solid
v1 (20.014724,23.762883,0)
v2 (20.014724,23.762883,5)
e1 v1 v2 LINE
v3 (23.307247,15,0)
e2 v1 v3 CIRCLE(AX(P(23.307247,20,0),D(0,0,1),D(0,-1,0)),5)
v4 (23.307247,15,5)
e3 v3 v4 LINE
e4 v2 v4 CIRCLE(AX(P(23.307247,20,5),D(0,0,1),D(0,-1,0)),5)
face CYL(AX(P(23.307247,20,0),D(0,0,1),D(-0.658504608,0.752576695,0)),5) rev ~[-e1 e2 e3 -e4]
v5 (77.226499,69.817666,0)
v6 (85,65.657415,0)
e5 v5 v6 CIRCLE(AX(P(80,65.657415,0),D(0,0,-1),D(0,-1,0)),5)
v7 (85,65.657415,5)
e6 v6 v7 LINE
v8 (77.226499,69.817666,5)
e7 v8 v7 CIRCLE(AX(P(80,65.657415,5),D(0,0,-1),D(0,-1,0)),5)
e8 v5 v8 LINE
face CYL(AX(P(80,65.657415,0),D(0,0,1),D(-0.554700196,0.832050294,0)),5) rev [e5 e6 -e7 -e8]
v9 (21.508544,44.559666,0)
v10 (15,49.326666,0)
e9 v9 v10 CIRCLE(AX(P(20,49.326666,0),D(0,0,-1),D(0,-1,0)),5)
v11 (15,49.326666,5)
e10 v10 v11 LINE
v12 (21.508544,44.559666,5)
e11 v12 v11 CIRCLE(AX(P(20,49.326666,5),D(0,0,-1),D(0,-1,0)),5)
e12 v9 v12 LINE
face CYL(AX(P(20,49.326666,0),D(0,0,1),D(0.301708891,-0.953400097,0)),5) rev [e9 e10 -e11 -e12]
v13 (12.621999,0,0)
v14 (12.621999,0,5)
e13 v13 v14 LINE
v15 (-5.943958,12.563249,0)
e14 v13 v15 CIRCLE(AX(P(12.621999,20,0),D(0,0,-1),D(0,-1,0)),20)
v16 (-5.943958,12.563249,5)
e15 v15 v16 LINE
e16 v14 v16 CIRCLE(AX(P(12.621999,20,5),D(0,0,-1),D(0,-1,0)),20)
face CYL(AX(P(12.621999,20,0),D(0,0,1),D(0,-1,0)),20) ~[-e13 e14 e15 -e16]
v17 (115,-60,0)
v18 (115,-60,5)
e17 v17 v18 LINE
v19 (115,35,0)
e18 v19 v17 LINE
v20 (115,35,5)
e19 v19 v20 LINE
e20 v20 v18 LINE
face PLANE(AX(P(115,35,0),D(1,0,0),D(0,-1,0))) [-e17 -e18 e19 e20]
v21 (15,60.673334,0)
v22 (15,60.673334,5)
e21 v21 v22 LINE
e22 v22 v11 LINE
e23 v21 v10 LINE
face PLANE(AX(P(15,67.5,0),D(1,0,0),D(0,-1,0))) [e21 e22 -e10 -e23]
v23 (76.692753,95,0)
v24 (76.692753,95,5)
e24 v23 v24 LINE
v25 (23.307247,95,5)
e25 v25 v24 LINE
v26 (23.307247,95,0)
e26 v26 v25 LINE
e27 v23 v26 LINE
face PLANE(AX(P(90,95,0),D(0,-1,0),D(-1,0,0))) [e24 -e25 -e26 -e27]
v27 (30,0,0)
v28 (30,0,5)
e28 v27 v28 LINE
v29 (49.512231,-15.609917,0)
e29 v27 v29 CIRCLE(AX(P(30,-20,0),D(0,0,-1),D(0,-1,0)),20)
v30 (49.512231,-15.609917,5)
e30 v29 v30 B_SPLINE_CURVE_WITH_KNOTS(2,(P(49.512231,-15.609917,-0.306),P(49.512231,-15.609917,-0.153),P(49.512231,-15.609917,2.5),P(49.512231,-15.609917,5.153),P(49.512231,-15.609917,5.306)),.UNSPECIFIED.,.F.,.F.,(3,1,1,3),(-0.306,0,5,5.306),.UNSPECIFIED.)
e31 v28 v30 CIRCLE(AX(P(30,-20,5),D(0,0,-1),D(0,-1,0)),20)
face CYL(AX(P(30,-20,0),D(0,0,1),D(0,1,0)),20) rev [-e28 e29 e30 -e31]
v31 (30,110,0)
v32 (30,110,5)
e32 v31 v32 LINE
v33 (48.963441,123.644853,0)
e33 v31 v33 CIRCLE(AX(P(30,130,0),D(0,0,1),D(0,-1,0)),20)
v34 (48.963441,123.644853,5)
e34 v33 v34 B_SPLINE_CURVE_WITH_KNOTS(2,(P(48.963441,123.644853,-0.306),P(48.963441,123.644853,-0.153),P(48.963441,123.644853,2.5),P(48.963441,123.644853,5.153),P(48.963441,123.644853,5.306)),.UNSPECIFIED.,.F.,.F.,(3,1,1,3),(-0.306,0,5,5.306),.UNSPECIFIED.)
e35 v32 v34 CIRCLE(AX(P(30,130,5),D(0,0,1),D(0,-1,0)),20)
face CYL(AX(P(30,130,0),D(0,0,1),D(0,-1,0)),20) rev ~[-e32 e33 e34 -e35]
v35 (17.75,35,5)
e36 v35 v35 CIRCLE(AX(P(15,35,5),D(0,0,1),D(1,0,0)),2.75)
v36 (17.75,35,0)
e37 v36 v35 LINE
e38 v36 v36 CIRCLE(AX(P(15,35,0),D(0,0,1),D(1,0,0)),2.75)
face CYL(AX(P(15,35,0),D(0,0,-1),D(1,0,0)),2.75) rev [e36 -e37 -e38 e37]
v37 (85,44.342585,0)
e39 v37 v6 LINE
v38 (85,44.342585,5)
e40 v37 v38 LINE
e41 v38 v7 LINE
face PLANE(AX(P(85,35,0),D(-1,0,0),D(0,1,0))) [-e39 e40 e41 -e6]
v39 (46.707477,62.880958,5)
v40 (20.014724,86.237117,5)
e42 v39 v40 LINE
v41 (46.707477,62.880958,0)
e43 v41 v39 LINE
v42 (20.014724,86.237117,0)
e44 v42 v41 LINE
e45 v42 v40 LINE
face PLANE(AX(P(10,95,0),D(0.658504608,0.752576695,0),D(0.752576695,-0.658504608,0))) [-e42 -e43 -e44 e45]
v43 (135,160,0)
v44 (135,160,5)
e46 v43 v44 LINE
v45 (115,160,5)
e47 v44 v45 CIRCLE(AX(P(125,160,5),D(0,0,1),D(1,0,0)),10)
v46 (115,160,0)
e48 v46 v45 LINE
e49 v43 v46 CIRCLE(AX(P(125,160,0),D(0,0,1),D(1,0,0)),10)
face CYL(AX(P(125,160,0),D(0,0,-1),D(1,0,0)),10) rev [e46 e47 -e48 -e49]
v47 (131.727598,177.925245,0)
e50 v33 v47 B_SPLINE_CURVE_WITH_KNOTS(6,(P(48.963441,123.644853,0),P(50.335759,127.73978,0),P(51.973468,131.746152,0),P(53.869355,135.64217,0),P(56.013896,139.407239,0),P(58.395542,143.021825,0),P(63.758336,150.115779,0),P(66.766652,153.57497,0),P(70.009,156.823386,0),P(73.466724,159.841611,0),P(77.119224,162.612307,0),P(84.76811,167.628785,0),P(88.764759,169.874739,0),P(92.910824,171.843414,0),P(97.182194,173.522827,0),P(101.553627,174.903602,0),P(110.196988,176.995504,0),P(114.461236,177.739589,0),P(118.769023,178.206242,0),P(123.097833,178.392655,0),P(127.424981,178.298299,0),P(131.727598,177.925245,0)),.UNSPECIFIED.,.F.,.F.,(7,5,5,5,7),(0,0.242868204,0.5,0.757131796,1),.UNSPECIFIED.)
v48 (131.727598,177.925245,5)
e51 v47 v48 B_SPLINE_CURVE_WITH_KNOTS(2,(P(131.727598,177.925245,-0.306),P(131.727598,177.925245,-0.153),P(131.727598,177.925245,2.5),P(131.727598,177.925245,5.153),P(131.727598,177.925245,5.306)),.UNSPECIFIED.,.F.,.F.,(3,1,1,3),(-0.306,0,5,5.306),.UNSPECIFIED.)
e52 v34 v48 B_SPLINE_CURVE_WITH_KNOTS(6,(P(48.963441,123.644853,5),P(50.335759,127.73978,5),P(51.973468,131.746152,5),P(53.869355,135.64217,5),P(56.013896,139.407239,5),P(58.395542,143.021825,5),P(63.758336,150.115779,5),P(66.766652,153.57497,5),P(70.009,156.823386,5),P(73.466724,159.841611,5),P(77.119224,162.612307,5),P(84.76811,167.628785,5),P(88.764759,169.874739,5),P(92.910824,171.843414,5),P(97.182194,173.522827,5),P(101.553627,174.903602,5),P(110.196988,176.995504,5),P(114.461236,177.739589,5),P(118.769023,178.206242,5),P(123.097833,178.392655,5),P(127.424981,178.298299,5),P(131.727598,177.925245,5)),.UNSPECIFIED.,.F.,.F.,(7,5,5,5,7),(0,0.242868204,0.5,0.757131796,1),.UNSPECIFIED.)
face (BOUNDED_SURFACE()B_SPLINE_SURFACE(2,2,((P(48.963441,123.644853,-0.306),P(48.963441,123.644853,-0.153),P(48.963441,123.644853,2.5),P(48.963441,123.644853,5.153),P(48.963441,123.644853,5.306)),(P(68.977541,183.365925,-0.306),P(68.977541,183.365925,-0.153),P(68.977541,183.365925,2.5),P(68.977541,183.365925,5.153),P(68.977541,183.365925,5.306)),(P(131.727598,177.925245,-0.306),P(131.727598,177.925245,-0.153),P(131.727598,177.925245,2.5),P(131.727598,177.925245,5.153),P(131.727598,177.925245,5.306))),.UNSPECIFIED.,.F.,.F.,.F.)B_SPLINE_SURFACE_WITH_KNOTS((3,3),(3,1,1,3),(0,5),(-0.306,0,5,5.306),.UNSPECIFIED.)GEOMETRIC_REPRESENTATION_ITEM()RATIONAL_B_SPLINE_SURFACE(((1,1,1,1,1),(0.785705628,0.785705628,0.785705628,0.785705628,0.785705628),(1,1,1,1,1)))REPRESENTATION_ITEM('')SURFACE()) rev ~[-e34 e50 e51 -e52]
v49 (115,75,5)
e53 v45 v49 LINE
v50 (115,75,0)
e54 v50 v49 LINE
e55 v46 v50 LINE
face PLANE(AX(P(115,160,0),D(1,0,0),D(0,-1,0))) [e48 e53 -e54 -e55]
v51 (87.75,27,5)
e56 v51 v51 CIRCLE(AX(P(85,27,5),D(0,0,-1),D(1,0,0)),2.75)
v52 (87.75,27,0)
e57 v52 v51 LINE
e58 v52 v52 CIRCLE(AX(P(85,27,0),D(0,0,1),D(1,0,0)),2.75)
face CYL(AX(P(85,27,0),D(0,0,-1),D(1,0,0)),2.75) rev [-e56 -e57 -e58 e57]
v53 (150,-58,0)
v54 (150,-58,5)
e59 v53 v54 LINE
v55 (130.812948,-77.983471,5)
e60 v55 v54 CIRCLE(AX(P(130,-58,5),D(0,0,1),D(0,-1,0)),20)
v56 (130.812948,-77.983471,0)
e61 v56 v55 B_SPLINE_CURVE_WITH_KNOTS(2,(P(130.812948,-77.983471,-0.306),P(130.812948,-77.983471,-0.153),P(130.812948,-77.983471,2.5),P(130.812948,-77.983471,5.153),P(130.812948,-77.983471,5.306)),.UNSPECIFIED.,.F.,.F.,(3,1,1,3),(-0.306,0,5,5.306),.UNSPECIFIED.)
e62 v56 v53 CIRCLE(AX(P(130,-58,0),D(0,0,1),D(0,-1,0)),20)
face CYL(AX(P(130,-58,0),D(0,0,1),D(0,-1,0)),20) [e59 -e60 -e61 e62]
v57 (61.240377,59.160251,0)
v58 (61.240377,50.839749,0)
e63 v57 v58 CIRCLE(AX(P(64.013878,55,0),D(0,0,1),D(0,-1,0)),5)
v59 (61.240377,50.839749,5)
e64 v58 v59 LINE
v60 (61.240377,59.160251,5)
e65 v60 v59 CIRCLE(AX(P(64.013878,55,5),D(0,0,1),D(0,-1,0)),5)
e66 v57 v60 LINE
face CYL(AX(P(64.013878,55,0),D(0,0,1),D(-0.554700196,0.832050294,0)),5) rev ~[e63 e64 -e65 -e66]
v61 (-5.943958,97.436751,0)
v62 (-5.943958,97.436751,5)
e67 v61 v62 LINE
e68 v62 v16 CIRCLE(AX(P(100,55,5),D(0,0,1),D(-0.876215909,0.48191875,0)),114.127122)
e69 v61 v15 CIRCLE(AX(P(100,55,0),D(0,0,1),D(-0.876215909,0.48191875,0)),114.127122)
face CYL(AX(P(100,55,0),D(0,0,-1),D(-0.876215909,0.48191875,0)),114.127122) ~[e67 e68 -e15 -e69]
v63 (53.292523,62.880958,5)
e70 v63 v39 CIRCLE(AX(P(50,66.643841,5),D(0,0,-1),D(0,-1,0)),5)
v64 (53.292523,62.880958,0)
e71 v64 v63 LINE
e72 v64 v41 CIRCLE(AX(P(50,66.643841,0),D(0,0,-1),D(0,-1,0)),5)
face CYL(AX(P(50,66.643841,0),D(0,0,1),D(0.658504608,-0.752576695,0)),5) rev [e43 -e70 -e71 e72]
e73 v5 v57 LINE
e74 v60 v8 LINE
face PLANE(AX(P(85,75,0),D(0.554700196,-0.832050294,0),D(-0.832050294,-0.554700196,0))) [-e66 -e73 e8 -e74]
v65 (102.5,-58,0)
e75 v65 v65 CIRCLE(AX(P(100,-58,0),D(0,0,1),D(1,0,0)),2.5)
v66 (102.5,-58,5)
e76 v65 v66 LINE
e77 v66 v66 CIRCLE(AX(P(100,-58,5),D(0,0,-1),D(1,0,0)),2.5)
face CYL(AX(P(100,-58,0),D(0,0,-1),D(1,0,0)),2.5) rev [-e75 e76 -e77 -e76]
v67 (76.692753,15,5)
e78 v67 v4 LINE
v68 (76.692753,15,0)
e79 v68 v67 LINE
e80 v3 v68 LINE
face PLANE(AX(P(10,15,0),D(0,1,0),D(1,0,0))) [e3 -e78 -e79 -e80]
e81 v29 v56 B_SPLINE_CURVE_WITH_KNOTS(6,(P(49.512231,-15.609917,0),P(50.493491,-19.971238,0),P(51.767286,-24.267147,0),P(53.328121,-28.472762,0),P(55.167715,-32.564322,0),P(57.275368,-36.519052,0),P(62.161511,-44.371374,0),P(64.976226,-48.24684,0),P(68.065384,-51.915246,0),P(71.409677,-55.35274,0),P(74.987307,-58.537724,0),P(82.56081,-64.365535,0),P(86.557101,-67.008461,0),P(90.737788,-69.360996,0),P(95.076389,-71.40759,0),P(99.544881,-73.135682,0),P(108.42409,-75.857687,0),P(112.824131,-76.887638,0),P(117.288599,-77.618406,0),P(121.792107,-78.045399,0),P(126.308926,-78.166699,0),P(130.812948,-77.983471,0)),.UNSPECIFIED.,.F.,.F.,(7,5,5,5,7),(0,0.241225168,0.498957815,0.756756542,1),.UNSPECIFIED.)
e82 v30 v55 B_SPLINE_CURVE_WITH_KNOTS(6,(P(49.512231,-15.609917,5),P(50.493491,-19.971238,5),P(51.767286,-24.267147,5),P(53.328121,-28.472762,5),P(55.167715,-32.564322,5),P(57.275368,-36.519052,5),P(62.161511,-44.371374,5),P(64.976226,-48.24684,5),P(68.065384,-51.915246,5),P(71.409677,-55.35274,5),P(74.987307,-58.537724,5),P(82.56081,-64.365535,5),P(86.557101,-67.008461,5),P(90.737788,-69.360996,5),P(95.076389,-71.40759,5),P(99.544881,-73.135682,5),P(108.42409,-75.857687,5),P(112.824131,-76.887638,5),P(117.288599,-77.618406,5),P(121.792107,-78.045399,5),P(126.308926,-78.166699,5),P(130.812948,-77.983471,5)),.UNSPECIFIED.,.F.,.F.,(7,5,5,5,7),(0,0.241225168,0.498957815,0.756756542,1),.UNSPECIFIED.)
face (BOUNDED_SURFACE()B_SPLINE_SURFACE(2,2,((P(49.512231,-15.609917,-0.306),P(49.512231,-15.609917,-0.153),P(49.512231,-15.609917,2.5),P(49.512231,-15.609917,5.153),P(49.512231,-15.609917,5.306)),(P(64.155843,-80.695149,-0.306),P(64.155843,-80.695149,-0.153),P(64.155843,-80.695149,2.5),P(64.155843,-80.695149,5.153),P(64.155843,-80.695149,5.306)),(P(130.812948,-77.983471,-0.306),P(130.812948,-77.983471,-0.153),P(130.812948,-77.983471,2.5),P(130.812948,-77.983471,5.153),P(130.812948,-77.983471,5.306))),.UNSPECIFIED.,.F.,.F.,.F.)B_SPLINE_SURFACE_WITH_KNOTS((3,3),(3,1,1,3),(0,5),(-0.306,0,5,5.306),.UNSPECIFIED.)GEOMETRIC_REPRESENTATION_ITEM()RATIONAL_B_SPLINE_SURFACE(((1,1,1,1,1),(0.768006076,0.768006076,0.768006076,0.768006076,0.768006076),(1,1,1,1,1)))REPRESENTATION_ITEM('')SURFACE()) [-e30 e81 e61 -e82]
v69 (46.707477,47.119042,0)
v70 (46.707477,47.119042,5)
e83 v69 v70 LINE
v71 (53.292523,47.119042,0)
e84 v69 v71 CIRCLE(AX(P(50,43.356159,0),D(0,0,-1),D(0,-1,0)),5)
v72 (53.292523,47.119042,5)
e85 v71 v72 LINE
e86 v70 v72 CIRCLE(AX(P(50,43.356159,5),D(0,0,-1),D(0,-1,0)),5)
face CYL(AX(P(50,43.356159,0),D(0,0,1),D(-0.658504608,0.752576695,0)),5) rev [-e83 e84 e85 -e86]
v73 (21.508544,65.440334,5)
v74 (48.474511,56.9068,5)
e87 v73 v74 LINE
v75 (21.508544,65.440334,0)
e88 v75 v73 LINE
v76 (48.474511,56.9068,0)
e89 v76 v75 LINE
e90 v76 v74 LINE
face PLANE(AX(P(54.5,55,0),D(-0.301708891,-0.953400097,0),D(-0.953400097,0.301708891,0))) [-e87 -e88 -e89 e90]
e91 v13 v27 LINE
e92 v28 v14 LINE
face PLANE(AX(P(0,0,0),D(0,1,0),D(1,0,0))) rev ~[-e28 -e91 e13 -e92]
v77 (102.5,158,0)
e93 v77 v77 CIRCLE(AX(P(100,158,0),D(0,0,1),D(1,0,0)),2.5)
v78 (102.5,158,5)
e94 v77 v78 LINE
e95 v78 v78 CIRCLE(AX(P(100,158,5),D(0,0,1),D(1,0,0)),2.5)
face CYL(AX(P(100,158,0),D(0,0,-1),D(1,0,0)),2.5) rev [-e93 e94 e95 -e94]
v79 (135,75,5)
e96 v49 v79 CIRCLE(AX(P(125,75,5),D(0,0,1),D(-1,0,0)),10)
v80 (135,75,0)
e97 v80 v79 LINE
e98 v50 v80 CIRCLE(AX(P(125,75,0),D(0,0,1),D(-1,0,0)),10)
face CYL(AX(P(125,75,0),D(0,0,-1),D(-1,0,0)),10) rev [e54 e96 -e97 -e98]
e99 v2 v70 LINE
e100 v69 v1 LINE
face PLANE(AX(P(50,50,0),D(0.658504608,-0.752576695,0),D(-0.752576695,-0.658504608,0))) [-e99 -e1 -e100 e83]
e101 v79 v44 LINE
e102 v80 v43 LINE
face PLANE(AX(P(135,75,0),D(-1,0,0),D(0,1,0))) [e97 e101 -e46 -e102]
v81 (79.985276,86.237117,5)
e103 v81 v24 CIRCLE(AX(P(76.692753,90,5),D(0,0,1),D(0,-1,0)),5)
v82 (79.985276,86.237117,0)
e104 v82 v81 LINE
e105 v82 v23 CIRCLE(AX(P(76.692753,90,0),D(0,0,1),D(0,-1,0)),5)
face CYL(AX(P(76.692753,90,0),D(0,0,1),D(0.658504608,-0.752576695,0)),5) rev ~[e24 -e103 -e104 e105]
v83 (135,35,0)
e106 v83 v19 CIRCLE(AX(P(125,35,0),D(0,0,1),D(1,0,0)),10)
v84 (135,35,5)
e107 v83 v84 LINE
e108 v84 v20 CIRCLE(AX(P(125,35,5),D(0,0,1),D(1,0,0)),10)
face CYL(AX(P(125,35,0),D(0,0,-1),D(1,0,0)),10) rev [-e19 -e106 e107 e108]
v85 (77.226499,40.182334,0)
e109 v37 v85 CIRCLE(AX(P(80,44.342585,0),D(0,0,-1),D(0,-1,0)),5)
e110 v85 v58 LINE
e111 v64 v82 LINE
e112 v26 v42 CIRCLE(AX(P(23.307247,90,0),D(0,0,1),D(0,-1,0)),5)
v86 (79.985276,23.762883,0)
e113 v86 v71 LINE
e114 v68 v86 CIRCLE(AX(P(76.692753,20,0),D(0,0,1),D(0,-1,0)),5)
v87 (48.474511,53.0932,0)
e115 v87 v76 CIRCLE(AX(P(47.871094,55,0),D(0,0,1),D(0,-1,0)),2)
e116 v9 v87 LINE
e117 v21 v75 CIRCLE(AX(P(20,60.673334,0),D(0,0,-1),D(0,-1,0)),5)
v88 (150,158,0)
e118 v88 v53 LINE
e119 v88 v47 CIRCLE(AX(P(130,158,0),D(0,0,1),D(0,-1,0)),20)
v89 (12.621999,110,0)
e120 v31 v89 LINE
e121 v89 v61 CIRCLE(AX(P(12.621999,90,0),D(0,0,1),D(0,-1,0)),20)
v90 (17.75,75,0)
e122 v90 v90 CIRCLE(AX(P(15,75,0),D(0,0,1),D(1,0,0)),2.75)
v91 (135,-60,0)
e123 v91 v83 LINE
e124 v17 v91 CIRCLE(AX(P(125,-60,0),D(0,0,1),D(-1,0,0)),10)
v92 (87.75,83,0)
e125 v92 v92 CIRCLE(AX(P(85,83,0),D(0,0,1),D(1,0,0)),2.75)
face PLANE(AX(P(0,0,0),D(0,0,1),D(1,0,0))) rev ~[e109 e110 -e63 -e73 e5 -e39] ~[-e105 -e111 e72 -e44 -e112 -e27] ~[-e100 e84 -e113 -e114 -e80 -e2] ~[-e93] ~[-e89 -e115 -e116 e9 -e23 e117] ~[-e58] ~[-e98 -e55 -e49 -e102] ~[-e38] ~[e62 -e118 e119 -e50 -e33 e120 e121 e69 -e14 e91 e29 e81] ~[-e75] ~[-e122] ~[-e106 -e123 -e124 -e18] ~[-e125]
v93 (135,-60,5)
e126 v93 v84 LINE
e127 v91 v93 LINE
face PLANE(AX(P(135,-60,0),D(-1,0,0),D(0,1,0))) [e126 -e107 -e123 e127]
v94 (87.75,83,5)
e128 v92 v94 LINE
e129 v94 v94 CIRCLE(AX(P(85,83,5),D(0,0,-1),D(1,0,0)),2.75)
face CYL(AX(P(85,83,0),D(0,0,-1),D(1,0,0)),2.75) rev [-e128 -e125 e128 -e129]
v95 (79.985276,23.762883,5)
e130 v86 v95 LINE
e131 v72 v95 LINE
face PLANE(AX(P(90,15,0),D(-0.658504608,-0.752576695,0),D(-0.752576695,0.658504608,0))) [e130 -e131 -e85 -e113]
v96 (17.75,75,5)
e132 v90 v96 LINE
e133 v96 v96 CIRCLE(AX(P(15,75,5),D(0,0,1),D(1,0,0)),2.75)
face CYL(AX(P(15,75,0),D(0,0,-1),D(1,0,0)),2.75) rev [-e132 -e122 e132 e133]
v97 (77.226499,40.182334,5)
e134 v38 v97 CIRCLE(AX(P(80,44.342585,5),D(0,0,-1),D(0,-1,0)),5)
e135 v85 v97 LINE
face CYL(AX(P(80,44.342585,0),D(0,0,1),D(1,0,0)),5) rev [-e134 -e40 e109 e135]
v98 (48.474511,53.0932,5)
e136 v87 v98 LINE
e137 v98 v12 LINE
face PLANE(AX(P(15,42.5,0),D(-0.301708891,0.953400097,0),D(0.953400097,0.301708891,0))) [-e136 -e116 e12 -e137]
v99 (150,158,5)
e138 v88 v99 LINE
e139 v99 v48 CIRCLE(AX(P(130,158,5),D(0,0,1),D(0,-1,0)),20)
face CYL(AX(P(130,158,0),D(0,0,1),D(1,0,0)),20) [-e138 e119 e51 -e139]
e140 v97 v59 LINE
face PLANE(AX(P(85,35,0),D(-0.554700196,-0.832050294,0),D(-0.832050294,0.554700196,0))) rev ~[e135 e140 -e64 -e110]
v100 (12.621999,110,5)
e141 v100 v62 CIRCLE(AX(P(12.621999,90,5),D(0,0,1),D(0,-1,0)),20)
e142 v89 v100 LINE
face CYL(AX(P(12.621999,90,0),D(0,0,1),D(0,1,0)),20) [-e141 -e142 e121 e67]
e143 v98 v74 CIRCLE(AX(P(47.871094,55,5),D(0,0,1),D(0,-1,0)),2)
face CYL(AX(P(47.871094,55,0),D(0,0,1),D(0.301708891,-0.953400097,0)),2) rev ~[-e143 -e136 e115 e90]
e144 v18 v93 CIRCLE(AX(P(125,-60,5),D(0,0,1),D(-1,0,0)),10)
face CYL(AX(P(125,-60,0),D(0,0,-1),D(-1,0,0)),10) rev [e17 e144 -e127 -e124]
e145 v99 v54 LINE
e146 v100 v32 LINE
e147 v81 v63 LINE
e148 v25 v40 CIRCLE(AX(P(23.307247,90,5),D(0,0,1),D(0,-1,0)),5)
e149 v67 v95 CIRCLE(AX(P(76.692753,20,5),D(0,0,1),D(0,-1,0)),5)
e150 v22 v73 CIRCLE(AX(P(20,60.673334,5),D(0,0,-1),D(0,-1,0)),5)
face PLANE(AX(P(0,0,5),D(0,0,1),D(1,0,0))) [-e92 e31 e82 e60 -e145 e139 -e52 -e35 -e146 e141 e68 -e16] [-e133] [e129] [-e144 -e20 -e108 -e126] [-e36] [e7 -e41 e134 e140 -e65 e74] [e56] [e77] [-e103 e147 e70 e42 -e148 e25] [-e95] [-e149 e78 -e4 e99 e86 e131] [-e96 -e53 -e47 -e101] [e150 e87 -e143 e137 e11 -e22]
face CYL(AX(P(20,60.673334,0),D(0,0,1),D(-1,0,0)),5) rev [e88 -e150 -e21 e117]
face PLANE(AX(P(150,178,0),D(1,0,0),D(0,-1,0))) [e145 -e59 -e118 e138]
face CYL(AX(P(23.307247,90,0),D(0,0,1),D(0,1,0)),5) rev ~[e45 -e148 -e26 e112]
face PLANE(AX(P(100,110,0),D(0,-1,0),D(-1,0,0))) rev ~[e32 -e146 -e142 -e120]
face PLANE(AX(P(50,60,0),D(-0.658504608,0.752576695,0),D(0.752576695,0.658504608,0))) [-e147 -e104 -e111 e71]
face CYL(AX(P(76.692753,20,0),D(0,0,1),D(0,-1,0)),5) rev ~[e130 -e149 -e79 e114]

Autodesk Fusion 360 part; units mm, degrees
sketch "Sketch1" plane through (0, 0, 0) normal (0, 0, 1) x (1, 0, 0)
  line L0 (0, 0) -> (100, 0)
  line L1 (100, 0) -> (100, 110)
  line L2 (100, 110) -> (0, 110)
  line L3 (0, 110) -> (0, 0)
  circle A0 centre (15, 35) radius 2.75
  circle A1 centre (15, 75) radius 2.75
  circle A2 centre (85, 83) radius 2.75
  circle A3 centre (85, 27) radius 2.75
  line L4 (85, 35) -> (85, 75)
  line L5 (15, 67.5) -> (15, 42.5)
  line L6 (85, 35) -> (55, 55)
  line L7 (85, 75) -> (55, 55)
  line L8 (50, 50) -> (10, 15)
  line L9 (10, 15) -> (90, 15)
  line L10 (90, 15) -> (50, 50)
  line L11 (50, 60) -> (90, 95)
  line L12 (90, 95) -> (10, 95)
  line L13 (10, 95) -> (50, 60)
  line L14 (15, 42.5) -> (54.5, 55)
  line L15 (54.5, 55) -> (15, 67.5)
  dimension "d1" = 5.5
  dimension "d2" = 5.5
  dimension "d3" = 5.5
  dimension "d4" = 5.5
  dimension "d5" = 40
  dimension "d6" = 56
  dimension "d7" = 70
  dimension "d9" = 100
  dimension "d10" = 110
  dimension "d11" = 27
  dimension "d12" = 15
  dimension "d63" = 15
  dimension "d66" = 15
  dimension "d67" = 7.5
  dimension "d68" = 7.5
  dimension "d72" = 15
  dimension "d73" = 15
  dimension "d76" = 50
  dimension "d77" = 10
  dimension "d78" = 10
  dimension "d80" = 56.31
  dimension "d81" = 56.31
  dimension "d140" = 10
  dimension "d141" = 41.186
  dimension "d142" = 41.186
  dimension "d143" = 72.44
  dimension "d152" = 35
  dimension "d153" = 35
  dimension "d154" = 35
extrude "Extrude13" add sketch "Sketch1" along normal blind 5
sketch "Sketch2" plane through (0, 110, 0) normal (0, 1, 0) x (-1, 0, 0)
  line L0 (-100, 0) -> (0, 0)
  line L1 (0, 0) -> (0, 10)
  line L2 (0, 10) -> (-100, 10)
  line L3 (-100, 10) -> (-100, 0)
  arc A0 (-29.9676, 8) -> (-29.9676, 14) centre (-29.9676, 11) ccw
  line L4 (-75.9121, 43) -> (-76, 43)
  line L5 (-29.9676, 8) -> (-33.1608, 8)
  line L6 (-29.9676, 14) -> (-69.9676, 14)
  line L7 (-69.9676, 8) -> (-29.9676, 8)
  arc A1 (-69.9676, 17) -> (-75.9676, 11) centre (-69.9676, 11) ccw
  line L8 (-69.9676, 17) -> (-29.9676, 17)
  line L9 (-76, 37.0055) -> (-75.9676, 11)
  arc A2 (-69.9676, 14) -> (-69.9676, 8) centre (-69.9676, 11) ccw
  arc A3 (-23.9676, 11) -> (-29.9676, 17) centre (-29.9676, 11) ccw
  line L10 (-23.9676, 5) -> (-75.9676, 5)
  line L11 (-75.9676, 5) -> (-83.3383, 5)
  line L12 (-23.9676, 5) -> (-17.9511, 5)
  arc A4 (-83.3383, 5) -> (-75.9676, 11) centre (-83.3383, 12.5273) ccw
  arc A5 (-23.9676, 11) -> (-17.9511, 5) centre (-16.0025, 12.9705) ccw
  line L13 (0, 5) -> (-100, 5)
  dimension "d108" = 6
  dimension "d109" = 6
  dimension "d110" = 3
  dimension "d111" = 40
  dimension "d112" = 6
  dimension "d115" = 6
  dimension "d116" = 40
  dimension "d119" = 6
  dimension "d120" = 52
  dimension "d121" = 3
  dimension "d135" = 12
extrude "Extrude14" add sketch "Sketch2" against normal blind 110 contours L2 A0 L5 L7 A2 L10 L11 L12 A4 A5 L13 | L2 A0 L6 A1 L8 A2 A3 A4 A5
sketch "Sketch6" plane through (0, 0, 22) normal (0, 0, 1) x (-1, 0, 0)
  line L0 (-70.0055, -110) -> (-30, -110)
  line L1 (-30, -110) -> (-30, 0)
  line L2 (-30, 0) -> (-70.0055, 0)
  line L3 (-70.0055, 0) -> (-70.0055, -110)
  line L4 (-10, -10) -> (-90, -10)
  line L5 (-90, -10) -> (-90, -100)
  line L6 (-90, -100) -> (-10, -100)
  line L7 (-10, -100) -> (-10, -10)
  line L8 (-69.9676, -110) -> (-29.9676, -110)
  line L9 (-100, 0) -> (-100, -110)
  line L10 (0, -110) -> (0, 0)
  dimension "d127" = 10
  dimension "d128" = 10
  dimension "d129" = 10
  dimension "d130" = 10
extrude "Extrude15" cut sketch "Sketch6" against normal blind 17 contours L3 L4 L5 L6 | L1 L3 L4 L6 | L1 L4 L6 L7
fillet "Fillet4" radius 2 1 edges at (54.5, 55, 2.5)
fillet "Fillet5" radius 5 3 edges at (50, 50, 2.5) (55, 55, 2.5) (50, 60, 2.5)
fillet "Fillet6" radius 5 6 edges at (10, 15, 2.5) (90, 15, 2.5) (85, 35, 2.5) (85, 75, 2.5) (90, 95, 2.5) (10, 95, 2.5)
fillet "Fillet7" radius 5 2 edges at (15, 67.5, 2.5) (15, 42.5, 2.5)
sketch "Sketch7" plane through (0, 0, 0) normal (0, 1, 0) x (1, 0, 0)
  line L0 (90, -5) -> (3.9374, -5)
  line L1 (3.9374, -5) -> (3.9374, -36.9823)
  line L2 (3.9374, -36.9823) -> (90, -36.9823)
  line L3 (90, -36.9823) -> (90, -5)
extrude "Extrude16" cut sketch "Sketch7" along normal blind 130
sketch "Sketch8" plane through (0, 0, 0) normal (0, 0, 1) x (1, 0, 0)
  circle A0 centre (100, 158) radius 2.5
  circle A1 centre (100, -58) radius 2.5
  line L0 (0, 0) -> (100, 0)
  line L1 (50, 110) -> (50, 178)
  line L2 (50, 178) -> (150, 178)
  line L3 (150, 178) -> (150, -78)
  line L4 (150, -78) -> (50, -78)
  line L5 (50, -78) -> (50, 0)
  line L6 (100, 0) -> (50, 0)
  line L7 (100, 0) -> (100, 110)
  line L8 (100, 110) -> (50, 110)
  line L9 (0, 0) -> (0, 110)
  arc A2 (0, 110) -> (0, 0) centre (100, 55) ccw
  arc A3 (97.7575, -59.1051) -> (102.2425, -59.1051) centre (100, 55) ccw
  line L10 (115, 160) -> (115, -60)
  line L11 (135, -60) -> (135, 160)
  arc A4 (135, 160) -> (115, 160) centre (125, 160) ccw
  arc A5 (115, -60) -> (135, -60) centre (125, -60) ccw
  arc A6 (135, 35) -> (115, 35) centre (125, 35) ccw
  arc A7 (115, 75) -> (135, 75) centre (125, 75) ccw
  point P0 (100, 110)
  dimension "d157" = 5
  dimension "d158" = 5
  dimension "d159" = 216
  dimension "d160" = 158
  dimension "d161" = 100
  dimension "d162" = 20
  dimension "d163" = 20
  dimension "d164" = 100
  dimension "d167" = 20
  dimension "d168" = 25
extrude "Extrude20" add sketch "Sketch8" along normal blind 5 contours L0 L1 L2 L3 L4 L5 L6 L7 L8 | L9 A2 | L10 L11 A6 A7
fillet "Fillet10" radius 20 6 edges at (0, 0, 2.5) (50, 0, 2.5) (150, -78, 2.5) (0, 110, 2.5) (150, 178, 2.5) (50, 110, 2.5)
fillet "Fillet11" radius 80 2 edges at (50, 178, 2.5) (50, -78, 2.5)
equation "d160 = ( 216 / 2 ) * 1 mm + 50 mm"
